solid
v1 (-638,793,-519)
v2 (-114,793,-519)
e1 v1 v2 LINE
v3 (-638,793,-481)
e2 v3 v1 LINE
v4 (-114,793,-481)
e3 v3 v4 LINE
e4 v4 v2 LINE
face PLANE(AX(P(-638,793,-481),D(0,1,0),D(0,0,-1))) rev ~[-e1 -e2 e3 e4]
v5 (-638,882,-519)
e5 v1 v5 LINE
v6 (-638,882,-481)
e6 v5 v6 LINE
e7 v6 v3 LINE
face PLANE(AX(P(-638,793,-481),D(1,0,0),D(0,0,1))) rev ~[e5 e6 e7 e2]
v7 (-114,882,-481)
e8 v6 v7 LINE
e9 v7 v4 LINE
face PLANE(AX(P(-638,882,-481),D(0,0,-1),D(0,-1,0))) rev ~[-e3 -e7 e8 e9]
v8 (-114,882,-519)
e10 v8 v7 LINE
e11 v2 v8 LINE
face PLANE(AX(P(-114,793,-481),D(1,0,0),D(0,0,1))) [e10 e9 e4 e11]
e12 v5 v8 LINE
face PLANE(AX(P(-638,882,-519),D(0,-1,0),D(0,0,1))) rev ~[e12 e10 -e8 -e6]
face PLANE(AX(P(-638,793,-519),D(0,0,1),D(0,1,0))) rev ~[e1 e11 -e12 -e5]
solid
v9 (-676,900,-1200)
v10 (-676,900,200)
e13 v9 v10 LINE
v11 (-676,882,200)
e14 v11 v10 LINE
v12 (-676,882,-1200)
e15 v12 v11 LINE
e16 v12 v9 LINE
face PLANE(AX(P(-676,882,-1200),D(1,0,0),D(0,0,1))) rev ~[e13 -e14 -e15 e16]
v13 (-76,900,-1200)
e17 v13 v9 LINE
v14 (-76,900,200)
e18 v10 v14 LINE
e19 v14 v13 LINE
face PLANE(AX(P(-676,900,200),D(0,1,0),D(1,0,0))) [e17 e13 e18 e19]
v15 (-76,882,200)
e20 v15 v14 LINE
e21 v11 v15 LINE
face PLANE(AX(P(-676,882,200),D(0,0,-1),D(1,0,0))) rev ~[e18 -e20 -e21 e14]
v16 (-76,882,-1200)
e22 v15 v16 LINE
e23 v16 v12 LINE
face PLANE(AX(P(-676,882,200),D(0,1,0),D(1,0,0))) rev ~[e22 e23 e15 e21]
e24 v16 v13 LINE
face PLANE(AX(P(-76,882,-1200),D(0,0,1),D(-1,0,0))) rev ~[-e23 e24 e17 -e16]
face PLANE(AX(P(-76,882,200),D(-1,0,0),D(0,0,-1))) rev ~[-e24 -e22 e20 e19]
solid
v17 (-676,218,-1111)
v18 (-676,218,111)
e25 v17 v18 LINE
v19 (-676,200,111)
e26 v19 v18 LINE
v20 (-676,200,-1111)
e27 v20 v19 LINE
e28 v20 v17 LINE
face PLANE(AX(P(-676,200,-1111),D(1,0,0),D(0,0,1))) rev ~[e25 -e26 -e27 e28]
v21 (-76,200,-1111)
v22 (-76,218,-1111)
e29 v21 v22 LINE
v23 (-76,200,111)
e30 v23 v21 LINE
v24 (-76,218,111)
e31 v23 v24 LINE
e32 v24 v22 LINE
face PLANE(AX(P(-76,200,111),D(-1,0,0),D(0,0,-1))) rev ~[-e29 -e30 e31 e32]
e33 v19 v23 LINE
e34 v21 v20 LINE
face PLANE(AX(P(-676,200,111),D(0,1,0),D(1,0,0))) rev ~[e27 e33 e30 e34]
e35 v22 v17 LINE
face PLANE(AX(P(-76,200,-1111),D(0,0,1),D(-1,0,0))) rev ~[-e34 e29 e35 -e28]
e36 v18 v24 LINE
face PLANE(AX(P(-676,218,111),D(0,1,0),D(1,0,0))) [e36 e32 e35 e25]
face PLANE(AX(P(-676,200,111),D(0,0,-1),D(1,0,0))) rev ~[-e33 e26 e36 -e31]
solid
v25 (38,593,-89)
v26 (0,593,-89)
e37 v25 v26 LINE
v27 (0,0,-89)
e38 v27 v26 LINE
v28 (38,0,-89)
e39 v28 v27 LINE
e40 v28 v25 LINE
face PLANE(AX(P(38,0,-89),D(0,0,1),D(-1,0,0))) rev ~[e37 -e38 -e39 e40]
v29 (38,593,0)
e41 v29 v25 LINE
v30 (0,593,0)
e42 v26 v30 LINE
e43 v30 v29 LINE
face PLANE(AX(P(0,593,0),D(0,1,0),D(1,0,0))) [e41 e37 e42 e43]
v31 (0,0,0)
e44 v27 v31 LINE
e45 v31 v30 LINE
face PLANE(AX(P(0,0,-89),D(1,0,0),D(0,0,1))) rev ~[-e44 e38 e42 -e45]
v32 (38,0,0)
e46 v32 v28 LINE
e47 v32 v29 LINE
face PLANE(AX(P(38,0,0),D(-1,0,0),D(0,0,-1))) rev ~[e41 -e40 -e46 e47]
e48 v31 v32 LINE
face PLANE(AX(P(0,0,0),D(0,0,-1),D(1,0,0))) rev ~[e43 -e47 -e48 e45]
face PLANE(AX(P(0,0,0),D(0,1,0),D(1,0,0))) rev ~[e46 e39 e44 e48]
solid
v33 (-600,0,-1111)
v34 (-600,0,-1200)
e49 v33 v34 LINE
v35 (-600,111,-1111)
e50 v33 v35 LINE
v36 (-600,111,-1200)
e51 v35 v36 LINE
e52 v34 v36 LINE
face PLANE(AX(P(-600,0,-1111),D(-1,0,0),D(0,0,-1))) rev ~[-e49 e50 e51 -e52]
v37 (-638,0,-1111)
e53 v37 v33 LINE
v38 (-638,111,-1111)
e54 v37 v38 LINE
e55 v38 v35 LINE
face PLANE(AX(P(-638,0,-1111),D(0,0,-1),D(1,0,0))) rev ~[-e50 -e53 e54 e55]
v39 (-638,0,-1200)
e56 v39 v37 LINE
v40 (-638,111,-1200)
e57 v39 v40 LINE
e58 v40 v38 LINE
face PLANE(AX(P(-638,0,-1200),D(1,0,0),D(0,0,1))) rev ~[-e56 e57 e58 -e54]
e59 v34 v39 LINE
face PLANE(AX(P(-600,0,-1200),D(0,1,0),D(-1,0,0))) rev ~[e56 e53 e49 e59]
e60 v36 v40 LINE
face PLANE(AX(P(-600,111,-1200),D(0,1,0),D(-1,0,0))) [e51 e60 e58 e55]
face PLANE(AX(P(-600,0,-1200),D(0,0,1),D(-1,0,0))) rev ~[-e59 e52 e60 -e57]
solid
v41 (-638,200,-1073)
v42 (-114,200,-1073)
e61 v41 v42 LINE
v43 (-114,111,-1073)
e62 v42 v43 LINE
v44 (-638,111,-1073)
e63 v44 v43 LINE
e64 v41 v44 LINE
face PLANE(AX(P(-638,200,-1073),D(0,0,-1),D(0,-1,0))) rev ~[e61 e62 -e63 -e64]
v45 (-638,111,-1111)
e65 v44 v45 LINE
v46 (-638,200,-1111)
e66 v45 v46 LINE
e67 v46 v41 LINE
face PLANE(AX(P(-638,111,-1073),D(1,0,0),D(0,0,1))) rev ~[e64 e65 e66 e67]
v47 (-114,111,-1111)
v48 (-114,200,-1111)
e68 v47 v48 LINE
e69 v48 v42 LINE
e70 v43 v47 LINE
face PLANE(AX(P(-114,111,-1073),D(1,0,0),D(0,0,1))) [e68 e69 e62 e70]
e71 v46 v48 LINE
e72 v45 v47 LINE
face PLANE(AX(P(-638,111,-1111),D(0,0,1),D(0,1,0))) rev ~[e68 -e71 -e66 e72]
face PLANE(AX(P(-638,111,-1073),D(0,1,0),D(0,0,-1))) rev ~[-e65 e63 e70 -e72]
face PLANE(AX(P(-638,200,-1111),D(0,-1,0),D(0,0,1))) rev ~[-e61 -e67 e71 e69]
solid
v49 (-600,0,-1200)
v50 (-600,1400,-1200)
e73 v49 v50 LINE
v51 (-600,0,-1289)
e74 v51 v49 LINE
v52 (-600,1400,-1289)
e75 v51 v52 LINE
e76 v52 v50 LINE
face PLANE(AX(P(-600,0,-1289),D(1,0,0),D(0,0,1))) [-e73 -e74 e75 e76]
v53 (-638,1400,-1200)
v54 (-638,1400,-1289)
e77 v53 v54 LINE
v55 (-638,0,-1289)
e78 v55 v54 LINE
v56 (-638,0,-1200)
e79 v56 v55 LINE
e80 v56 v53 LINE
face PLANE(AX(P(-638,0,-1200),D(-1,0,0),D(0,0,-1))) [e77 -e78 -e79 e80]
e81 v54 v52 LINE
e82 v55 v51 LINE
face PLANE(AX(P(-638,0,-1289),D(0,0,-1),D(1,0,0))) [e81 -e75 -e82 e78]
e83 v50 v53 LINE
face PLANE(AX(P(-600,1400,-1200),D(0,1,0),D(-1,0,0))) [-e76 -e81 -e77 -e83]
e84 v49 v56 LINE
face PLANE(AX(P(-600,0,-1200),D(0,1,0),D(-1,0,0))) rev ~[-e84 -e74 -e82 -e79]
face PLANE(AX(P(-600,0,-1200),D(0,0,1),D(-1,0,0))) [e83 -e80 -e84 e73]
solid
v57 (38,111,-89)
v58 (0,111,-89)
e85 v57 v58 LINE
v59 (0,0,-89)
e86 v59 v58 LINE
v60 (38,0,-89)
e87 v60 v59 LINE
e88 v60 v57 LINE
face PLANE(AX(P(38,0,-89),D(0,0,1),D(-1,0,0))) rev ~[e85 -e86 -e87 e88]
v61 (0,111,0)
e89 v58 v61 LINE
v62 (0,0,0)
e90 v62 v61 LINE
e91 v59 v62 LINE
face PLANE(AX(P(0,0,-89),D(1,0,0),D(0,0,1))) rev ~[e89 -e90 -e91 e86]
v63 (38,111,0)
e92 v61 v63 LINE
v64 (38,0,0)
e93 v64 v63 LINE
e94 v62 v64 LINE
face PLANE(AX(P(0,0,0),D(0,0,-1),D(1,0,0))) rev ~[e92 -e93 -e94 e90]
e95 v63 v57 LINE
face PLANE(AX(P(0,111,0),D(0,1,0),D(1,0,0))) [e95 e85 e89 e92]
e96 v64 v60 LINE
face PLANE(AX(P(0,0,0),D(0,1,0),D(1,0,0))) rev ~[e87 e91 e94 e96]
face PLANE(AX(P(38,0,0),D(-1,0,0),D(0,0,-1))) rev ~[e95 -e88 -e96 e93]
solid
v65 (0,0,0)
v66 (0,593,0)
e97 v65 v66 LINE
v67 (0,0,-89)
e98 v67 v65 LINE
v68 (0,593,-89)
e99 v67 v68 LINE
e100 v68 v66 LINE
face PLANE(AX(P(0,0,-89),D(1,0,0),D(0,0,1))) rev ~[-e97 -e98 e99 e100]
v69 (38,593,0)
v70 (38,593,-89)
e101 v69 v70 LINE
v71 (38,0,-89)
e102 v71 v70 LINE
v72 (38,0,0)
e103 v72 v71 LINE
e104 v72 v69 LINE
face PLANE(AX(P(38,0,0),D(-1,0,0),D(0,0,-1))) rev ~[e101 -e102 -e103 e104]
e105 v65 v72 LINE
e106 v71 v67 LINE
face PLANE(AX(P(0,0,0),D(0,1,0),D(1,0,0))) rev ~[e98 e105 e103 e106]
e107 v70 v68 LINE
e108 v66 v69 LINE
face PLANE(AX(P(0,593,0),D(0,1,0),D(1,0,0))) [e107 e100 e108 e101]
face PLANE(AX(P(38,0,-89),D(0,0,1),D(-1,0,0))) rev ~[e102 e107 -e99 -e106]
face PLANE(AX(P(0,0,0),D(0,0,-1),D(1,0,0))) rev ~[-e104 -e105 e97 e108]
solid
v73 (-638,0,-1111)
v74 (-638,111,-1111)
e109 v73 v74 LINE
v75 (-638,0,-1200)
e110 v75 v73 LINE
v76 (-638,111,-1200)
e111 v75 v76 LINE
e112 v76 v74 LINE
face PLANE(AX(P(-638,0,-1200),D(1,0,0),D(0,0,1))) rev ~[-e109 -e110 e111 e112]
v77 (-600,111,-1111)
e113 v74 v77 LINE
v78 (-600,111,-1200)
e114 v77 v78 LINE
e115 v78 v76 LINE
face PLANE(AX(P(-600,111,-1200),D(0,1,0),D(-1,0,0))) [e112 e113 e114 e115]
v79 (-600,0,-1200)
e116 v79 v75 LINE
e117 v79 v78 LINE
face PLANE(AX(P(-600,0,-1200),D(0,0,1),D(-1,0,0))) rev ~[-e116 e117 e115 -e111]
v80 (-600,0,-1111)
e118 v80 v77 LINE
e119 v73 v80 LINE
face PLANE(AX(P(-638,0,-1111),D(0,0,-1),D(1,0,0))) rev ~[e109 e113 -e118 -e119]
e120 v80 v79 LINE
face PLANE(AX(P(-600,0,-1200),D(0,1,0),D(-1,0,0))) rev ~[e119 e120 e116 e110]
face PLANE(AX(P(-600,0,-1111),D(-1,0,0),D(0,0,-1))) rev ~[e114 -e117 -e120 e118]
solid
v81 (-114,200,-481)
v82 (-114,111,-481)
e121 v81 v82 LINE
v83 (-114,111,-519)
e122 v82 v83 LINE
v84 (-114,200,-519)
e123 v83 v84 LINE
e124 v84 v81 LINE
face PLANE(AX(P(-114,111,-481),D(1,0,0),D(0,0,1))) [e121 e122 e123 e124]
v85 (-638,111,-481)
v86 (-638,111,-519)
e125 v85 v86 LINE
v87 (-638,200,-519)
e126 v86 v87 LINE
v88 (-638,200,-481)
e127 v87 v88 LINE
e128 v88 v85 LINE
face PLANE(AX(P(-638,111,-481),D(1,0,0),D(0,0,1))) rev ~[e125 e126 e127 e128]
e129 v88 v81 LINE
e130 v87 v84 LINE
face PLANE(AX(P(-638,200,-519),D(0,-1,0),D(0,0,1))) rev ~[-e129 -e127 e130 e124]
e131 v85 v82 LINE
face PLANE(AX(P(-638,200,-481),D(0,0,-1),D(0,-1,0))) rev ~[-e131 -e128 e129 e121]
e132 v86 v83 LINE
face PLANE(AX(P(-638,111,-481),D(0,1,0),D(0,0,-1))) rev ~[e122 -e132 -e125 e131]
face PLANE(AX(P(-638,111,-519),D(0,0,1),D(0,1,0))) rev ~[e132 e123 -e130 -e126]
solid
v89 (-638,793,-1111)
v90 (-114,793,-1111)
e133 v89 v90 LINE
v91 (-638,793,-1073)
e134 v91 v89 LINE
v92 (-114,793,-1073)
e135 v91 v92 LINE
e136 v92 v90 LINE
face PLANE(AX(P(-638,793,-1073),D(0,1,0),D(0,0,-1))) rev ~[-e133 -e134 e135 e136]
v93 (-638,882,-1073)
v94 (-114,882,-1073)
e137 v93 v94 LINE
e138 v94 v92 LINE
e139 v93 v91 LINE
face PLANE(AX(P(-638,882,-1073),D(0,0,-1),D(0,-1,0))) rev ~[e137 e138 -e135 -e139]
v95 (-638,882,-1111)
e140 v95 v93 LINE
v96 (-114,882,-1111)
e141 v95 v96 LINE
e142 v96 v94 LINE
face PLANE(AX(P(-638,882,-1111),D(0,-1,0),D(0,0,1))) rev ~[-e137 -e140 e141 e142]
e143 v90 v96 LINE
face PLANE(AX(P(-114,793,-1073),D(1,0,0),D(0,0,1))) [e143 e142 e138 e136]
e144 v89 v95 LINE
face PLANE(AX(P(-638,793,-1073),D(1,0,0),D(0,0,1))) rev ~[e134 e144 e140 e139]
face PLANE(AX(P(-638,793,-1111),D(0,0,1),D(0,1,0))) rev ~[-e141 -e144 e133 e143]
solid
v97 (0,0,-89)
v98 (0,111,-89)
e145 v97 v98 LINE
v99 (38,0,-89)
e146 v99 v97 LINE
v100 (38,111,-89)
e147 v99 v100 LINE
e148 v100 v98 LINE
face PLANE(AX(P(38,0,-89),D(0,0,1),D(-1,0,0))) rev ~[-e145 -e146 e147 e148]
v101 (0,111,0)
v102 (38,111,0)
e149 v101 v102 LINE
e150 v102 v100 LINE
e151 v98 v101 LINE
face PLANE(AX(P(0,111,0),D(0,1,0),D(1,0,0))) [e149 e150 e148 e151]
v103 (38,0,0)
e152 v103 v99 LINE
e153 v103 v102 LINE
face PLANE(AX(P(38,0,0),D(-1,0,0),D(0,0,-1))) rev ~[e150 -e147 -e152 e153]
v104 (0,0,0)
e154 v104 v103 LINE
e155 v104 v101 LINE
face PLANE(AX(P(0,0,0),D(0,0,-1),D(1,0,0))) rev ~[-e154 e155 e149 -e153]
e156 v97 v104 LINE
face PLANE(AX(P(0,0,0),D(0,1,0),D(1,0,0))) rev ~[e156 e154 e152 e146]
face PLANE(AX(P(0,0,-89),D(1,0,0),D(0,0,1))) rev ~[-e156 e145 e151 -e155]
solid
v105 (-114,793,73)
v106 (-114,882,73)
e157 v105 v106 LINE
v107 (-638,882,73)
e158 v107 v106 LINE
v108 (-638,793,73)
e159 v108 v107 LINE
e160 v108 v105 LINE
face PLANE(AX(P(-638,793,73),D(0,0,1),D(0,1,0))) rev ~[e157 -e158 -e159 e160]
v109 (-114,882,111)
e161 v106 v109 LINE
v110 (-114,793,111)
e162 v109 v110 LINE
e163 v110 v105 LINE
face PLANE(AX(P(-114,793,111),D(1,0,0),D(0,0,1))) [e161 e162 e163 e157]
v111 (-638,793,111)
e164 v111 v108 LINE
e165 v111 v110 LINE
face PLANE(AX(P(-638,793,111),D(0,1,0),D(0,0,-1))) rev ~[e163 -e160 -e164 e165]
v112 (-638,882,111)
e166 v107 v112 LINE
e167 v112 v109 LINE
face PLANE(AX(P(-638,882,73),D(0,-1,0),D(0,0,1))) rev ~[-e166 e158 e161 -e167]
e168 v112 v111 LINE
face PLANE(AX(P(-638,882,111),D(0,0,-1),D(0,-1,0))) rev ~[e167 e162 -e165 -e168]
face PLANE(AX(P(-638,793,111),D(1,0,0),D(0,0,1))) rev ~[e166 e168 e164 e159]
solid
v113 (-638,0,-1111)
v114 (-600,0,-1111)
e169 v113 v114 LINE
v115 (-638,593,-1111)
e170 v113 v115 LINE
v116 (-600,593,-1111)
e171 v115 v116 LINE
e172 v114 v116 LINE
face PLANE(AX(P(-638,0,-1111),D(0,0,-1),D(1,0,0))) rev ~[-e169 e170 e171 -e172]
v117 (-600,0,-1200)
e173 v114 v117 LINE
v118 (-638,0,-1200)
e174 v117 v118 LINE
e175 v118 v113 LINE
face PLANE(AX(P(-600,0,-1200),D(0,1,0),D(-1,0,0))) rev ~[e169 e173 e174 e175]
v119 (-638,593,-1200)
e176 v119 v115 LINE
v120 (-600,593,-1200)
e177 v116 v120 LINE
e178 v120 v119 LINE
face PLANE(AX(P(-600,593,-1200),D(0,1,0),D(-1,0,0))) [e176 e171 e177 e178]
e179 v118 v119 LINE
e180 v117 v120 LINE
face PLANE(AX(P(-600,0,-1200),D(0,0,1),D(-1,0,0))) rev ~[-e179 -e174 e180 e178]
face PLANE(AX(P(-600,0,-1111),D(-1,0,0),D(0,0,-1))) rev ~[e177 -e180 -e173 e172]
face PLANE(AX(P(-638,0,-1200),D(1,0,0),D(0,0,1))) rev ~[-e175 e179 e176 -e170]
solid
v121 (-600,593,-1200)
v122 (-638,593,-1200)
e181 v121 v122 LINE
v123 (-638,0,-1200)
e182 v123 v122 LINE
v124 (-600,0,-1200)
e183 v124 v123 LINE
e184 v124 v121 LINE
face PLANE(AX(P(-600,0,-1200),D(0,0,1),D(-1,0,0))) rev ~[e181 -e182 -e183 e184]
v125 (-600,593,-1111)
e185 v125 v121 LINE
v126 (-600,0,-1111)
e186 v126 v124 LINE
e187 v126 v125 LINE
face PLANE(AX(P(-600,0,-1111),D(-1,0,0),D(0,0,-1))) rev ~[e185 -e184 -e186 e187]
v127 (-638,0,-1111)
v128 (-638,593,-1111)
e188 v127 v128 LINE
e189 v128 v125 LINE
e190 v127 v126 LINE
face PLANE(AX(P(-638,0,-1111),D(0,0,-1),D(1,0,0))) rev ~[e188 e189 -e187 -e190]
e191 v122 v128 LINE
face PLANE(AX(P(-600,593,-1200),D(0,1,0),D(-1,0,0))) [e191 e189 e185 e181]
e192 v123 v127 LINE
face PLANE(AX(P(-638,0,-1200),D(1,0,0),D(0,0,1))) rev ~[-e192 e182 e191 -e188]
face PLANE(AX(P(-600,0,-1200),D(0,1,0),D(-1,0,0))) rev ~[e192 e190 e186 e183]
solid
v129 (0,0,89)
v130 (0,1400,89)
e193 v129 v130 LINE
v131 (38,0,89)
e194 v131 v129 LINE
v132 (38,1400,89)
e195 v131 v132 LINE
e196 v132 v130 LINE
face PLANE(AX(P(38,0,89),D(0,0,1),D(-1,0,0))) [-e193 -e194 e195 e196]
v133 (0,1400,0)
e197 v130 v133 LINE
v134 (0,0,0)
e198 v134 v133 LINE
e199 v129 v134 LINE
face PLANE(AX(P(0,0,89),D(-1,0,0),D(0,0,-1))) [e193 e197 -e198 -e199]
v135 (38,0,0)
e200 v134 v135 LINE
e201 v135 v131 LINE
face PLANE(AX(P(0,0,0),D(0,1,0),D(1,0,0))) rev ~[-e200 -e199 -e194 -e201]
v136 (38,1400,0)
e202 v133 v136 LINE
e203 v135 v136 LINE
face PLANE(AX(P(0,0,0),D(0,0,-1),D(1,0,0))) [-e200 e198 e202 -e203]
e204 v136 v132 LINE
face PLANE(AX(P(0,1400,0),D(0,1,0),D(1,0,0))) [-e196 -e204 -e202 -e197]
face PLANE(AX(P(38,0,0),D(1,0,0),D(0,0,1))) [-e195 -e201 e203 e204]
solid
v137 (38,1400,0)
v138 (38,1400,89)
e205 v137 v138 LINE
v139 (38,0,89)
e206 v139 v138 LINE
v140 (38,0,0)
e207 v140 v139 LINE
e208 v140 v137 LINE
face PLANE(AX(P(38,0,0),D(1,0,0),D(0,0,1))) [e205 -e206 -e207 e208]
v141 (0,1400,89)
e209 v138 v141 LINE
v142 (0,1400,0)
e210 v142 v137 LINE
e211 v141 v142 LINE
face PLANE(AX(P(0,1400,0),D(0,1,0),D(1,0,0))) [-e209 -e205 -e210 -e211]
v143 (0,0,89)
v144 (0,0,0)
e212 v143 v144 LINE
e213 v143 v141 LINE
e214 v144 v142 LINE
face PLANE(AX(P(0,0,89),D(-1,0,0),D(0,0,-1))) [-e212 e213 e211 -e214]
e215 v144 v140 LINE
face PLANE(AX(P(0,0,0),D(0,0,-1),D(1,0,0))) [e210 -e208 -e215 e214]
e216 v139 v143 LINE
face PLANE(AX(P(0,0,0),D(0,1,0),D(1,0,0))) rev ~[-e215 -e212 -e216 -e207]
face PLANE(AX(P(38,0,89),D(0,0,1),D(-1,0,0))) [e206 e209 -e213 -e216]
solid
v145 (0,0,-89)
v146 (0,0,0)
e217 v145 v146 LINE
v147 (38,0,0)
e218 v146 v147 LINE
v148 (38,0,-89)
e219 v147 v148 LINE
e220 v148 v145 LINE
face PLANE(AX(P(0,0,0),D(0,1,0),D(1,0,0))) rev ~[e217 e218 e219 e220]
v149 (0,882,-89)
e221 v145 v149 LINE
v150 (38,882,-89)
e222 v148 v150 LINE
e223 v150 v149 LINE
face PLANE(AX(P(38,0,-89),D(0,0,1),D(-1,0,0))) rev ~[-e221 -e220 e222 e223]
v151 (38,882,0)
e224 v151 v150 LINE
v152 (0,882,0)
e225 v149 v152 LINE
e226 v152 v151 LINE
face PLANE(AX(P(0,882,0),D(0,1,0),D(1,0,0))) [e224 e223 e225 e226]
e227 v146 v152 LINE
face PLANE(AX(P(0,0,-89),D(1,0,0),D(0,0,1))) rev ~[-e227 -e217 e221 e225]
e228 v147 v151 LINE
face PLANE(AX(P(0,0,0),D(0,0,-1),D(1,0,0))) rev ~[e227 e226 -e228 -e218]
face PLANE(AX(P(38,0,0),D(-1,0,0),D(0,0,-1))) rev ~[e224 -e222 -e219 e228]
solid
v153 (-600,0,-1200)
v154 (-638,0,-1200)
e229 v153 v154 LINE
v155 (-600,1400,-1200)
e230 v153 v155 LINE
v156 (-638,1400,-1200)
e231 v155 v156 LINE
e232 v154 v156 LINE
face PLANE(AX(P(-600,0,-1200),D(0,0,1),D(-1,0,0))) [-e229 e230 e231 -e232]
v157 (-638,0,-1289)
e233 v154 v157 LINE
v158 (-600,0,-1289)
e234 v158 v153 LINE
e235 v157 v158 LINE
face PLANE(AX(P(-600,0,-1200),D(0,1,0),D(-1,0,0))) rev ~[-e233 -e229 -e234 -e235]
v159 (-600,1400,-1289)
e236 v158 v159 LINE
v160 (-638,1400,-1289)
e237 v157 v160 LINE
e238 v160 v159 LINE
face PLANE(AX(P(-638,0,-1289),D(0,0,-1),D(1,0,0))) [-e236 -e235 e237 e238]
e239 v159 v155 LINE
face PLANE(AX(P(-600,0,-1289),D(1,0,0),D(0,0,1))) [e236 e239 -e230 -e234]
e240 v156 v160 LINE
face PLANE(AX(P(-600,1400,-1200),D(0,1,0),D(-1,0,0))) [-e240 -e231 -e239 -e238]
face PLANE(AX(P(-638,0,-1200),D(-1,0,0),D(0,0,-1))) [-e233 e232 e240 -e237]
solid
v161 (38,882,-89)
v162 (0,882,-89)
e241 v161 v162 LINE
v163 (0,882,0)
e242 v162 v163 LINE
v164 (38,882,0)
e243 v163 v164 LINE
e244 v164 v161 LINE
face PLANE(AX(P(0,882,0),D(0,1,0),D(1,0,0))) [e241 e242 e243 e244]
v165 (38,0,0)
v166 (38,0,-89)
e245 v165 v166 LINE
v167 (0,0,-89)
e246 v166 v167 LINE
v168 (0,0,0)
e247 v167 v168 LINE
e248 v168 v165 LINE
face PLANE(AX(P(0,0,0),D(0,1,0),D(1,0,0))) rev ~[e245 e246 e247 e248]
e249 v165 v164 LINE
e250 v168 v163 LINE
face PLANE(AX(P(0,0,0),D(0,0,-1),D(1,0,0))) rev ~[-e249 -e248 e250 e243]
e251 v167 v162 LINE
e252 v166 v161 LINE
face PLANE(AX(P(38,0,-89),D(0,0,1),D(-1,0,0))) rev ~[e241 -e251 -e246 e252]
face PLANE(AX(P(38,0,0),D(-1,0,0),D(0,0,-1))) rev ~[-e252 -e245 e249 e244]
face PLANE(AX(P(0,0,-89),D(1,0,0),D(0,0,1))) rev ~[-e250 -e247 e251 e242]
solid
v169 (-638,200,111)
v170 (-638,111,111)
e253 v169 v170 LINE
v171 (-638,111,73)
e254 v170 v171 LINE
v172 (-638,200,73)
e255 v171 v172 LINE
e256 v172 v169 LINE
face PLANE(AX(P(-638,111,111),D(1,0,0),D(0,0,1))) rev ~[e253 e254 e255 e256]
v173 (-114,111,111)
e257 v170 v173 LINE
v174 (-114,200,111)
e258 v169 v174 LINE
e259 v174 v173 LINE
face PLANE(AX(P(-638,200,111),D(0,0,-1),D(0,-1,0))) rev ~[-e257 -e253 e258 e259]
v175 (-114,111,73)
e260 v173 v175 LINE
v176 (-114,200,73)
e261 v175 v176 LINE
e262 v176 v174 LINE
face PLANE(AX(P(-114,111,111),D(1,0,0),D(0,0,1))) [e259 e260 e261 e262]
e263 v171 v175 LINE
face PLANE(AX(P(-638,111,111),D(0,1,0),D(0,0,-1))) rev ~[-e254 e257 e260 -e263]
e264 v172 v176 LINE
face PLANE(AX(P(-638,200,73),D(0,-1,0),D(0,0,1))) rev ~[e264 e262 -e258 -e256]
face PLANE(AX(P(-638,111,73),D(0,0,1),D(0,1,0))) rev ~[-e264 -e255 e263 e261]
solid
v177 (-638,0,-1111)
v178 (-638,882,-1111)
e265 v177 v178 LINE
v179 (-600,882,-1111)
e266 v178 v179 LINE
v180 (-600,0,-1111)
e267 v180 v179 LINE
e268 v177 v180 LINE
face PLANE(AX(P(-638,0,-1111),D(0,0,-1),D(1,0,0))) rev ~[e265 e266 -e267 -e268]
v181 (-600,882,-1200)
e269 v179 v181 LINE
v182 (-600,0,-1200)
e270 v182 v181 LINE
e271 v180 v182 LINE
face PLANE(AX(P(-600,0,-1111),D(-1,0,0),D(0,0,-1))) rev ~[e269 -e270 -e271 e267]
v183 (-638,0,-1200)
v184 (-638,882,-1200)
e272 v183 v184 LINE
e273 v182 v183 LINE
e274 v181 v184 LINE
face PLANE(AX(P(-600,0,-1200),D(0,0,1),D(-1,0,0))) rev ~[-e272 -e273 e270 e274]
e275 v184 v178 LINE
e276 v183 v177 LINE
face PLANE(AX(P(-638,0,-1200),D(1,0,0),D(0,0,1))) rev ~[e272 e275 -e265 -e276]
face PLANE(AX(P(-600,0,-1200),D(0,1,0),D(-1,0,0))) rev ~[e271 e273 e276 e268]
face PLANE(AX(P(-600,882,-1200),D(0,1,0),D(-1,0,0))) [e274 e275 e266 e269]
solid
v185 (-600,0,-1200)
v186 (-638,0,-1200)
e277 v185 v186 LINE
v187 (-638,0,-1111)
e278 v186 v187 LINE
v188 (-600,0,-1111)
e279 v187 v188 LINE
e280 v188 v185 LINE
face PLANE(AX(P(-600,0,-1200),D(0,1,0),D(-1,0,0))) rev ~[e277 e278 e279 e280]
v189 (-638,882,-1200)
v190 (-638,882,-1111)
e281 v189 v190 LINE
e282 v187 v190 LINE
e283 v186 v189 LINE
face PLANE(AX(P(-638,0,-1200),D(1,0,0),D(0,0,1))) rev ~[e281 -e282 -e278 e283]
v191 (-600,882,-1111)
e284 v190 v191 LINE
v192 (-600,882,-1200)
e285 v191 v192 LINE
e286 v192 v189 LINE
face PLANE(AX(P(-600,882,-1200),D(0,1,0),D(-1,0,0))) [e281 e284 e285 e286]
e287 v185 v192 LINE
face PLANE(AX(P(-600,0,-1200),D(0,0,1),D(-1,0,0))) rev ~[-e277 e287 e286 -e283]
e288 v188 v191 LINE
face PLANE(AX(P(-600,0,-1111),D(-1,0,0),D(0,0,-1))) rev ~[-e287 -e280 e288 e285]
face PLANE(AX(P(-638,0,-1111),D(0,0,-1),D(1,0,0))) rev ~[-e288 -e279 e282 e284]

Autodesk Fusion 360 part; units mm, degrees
sketch "Sketch1" plane through (0, 0, 0) normal (0, 1, 0) x (1, 0, 0) in component "Main"
  line L0 (0, 0) -> (38, 0)
  line L1 (38, 0) -> (38, 89)
  line L2 (38, 89) -> (0, 89)
  line L3 (0, 89) -> (0, 0)
  dimension "d6" = 38
  dimension "d7" = 89
extrude "Extrude1" add sketch "Sketch1" along normal blind 882 makes body 1 in component "Main"
sketch "Sketch1 (2)" plane through (0, 0, 0) normal (0, 1, 0) x (1, 0, 0) in component "bottom section"
  line L0 (0, 0) -> (38, 0)
  line L1 (38, 0) -> (38, 89)
  line L2 (38, 89) -> (0, 89)
  line L3 (0, 89) -> (0, 0)
  dimension "d11" = 89
  dimension "d12" = 38
extrude "Extrude1'" add sketch "Sketch1 (2)" along normal blind 111 separate body makes body 2 in component "bottom section"
sketch "Sketch1 (3)" plane through (0, 0, 0) normal (0, 1, 0) x (1, 0, 0) in component "middle section"
  line L0 (0, 0) -> (38, 0)
  line L1 (38, 0) -> (38, 89)
  line L2 (38, 89) -> (0, 89)
  line L3 (0, 89) -> (0, 0)
  dimension "d16" = 89
  dimension "d17" = 38
extrude "Extrude1''" add sketch "Sketch1 (3)" along normal blind 593 separate body makes body 3 in component "middle section"
sketch "Sketch1 (4)" plane through (0, 0, 0) normal (0, 1, 0) x (1, 0, 0) in component "Apron"
  line L0 (0, 0) -> (38, 0)
  line L1 (38, 0) -> (38, -89)
  line L2 (38, -89) -> (0, -89)
  line L3 (0, -89) -> (0, 0)
  dimension "d28" = 89
  dimension "d29" = 38
extrude "Extrude1'''" add sketch "Sketch1 (4)" along normal blind 1400 separate body makes body 4 in component "Apron"
sketch "Sketch1 (5)" plane through (0, 0, 0) normal (0, 1, 0) x (1, 0, 0) in component "Support"
  line L0 (0, 0) -> (-38, 0)
  line L1 (-38, 0) -> (-38, -89)
  line L2 (-38, -89) -> (0, -89)
  line L3 (0, -89) -> (0, 0)
  dimension "d44" = 89
  dimension "d45" = 38
extrude "Extrude1''''" add sketch "Sketch1 (5)" along normal blind 524 separate body makes body 5 in component "Support"
pattern_linear "00000000-0000-0000-0000-000000000000" [suppressed]
pattern_linear "00000000-0000-0000-0000-000000000000'" [suppressed]
sketch "Sketch1 (6)" plane through (0, 0, 0) normal (0, 1, 0) x (1, 0, 0) in component "Table top"
  line L0 (0, 0) -> (600, 0)
  line L1 (600, 0) -> (600, 1400)
  line L2 (600, 1400) -> (0, 1400)
  line L3 (0, 1400) -> (0, 0)
  dimension "d69" = 1400
  dimension "d70" = 600
extrude "Extrude1'''''" add sketch "Sketch1 (6)" along normal blind 18 separate body makes body 6 in component "Table top"
sketch "Sketch1 (7)" plane through (0, 0, 0) normal (0, 1, 0) x (1, 0, 0) in component "Shelf"
  line L0 (0, 0) -> (600, 0)
  line L1 (600, 0) -> (600, 1222)
  line L2 (600, 1222) -> (0, 1222)
  line L3 (0, 1222) -> (0, 0)
  dimension "d77" = 600
  dimension "d78" = 1222
extrude "Extrude1''''''" add sketch "Sketch1 (7)" along normal blind 18 separate body makes body 7 in component "Shelf"
component "Leg set" placed x (1, 0, 0) y (0, 1, 0) z (0, 0, 1) at (0, 0, 0)
component "Leg set" placed x (-1, 0, 0) y (0, 1, 0) z (0, 0, -1) at (-600, 0, -1200)
component "Supports" placed x (1, 0, 0) y (0, 1, 0) z (0, 0, 1) at (0, 0, 0)
component "Table top" placed x (1, 0, 0) y (0, 1, 0) z (0, 0, 1) at (-676, 882, 200)
component "Shelf" placed x (1, 0, 0) y (0, 1, 0) z (0, 0, 1) at (-676, 200, 111)
component "Main" placed x (1, 0, 0) y (0, 1, 0) z (0, 0, 1) at (0, 0, 0) in component "leg"
component "bottom section" placed x (1, 0, 0) y (0, 1, 0) z (0, 0, 1) at (0, 0, 0) in component "leg"
component "middle section" placed x (1, 0, 0) y (0, 1, 0) z (0, 0, 1) at (0, 0, 0) in component "leg"
component "leg" placed x (1, 0, 0) y (0, 1, 0) z (0, 0, 1) at (0, 0, 0) in component "Leg set"
component "Apron" placed x (1, 0, 0) y (0, 1, 0) z (0, 0, 1) at (0, 0, 0) in component "Leg set"
component "leg" placed x (1, 0, 0) y (0, 1, 0) z (0, 0, 1) at (0, 0, 0) in component "Leg set"
component "Apron" placed x (1, 0, 0) y (0, 1, 0) z (0, 0, 1) at (0, 0, 0) in component "Leg set"
component "Support" placed x (0, 0, 1) y (1, 0, 0) z (0, 1, 0) at (-638, 793, 111) in component "Supports"
component "Support" placed x (0, 0, 1) y (1, 0, 0) z (0, 1, 0) at (-638, 111, -1073) in component "Supports"
component "Support" placed x (0, 0, 1) y (1, 0, 0) z (0, 1, 0) at (-638, 111, -481) in component "Supports"
component "Support" placed x (0, 0, 1) y (1, 0, 0) z (0, 1, 0) at (-638, 793, -1073) in component "Supports"
component "Support" placed x (0, 0, 1) y (1, 0, 0) z (0, 1, 0) at (-638, 793, -481) in component "Supports"
component "Support" placed x (0, 0, 1) y (1, 0, 0) z (0, 1, 0) at (-638, 111, 111) in component "Supports"
equation "table_width = 1400 mm"
equation "table_depth = 600 mm"
equation "table_height = 900 mm"
equation "wood_width = 89 mm"
equation "wood_depth = 38 mm"
equation "d6 = wood_depth"
equation "d7 = wood_width"
equation "top_thickness = 18 mm"
equation "d9 = table_height - top_thickness"
equation "d11 = wood_width"
equation "d12 = wood_depth"
equation "shelf_height = 200 mm"
equation "d14 = shelf_height - wood_width"
equation "d16 = wood_width"
equation "d17 = wood_depth"
equation "d18 = table_height - wood_width - shelf_height - top_thickness"
equation "d28 = wood_width"
equation "d29 = wood_depth"
equation "d30 = table_width"
equation "d44 = wood_width"
equation "d45 = wood_depth"
equation "d46 = table_depth - 2 * wood_depth"
equation "d58 = table_width - 2 * wood_width - wood_depth"
equation "d67 = table_width - 2 * wood_width - wood_depth"
equation "d69 = table_width"
equation "d70 = table_depth"
equation "d71 = top_thickness"
equation "d77 = table_depth"
equation "d78 = table_width - 2 * wood_width"
equation "d79 = top_thickness"
